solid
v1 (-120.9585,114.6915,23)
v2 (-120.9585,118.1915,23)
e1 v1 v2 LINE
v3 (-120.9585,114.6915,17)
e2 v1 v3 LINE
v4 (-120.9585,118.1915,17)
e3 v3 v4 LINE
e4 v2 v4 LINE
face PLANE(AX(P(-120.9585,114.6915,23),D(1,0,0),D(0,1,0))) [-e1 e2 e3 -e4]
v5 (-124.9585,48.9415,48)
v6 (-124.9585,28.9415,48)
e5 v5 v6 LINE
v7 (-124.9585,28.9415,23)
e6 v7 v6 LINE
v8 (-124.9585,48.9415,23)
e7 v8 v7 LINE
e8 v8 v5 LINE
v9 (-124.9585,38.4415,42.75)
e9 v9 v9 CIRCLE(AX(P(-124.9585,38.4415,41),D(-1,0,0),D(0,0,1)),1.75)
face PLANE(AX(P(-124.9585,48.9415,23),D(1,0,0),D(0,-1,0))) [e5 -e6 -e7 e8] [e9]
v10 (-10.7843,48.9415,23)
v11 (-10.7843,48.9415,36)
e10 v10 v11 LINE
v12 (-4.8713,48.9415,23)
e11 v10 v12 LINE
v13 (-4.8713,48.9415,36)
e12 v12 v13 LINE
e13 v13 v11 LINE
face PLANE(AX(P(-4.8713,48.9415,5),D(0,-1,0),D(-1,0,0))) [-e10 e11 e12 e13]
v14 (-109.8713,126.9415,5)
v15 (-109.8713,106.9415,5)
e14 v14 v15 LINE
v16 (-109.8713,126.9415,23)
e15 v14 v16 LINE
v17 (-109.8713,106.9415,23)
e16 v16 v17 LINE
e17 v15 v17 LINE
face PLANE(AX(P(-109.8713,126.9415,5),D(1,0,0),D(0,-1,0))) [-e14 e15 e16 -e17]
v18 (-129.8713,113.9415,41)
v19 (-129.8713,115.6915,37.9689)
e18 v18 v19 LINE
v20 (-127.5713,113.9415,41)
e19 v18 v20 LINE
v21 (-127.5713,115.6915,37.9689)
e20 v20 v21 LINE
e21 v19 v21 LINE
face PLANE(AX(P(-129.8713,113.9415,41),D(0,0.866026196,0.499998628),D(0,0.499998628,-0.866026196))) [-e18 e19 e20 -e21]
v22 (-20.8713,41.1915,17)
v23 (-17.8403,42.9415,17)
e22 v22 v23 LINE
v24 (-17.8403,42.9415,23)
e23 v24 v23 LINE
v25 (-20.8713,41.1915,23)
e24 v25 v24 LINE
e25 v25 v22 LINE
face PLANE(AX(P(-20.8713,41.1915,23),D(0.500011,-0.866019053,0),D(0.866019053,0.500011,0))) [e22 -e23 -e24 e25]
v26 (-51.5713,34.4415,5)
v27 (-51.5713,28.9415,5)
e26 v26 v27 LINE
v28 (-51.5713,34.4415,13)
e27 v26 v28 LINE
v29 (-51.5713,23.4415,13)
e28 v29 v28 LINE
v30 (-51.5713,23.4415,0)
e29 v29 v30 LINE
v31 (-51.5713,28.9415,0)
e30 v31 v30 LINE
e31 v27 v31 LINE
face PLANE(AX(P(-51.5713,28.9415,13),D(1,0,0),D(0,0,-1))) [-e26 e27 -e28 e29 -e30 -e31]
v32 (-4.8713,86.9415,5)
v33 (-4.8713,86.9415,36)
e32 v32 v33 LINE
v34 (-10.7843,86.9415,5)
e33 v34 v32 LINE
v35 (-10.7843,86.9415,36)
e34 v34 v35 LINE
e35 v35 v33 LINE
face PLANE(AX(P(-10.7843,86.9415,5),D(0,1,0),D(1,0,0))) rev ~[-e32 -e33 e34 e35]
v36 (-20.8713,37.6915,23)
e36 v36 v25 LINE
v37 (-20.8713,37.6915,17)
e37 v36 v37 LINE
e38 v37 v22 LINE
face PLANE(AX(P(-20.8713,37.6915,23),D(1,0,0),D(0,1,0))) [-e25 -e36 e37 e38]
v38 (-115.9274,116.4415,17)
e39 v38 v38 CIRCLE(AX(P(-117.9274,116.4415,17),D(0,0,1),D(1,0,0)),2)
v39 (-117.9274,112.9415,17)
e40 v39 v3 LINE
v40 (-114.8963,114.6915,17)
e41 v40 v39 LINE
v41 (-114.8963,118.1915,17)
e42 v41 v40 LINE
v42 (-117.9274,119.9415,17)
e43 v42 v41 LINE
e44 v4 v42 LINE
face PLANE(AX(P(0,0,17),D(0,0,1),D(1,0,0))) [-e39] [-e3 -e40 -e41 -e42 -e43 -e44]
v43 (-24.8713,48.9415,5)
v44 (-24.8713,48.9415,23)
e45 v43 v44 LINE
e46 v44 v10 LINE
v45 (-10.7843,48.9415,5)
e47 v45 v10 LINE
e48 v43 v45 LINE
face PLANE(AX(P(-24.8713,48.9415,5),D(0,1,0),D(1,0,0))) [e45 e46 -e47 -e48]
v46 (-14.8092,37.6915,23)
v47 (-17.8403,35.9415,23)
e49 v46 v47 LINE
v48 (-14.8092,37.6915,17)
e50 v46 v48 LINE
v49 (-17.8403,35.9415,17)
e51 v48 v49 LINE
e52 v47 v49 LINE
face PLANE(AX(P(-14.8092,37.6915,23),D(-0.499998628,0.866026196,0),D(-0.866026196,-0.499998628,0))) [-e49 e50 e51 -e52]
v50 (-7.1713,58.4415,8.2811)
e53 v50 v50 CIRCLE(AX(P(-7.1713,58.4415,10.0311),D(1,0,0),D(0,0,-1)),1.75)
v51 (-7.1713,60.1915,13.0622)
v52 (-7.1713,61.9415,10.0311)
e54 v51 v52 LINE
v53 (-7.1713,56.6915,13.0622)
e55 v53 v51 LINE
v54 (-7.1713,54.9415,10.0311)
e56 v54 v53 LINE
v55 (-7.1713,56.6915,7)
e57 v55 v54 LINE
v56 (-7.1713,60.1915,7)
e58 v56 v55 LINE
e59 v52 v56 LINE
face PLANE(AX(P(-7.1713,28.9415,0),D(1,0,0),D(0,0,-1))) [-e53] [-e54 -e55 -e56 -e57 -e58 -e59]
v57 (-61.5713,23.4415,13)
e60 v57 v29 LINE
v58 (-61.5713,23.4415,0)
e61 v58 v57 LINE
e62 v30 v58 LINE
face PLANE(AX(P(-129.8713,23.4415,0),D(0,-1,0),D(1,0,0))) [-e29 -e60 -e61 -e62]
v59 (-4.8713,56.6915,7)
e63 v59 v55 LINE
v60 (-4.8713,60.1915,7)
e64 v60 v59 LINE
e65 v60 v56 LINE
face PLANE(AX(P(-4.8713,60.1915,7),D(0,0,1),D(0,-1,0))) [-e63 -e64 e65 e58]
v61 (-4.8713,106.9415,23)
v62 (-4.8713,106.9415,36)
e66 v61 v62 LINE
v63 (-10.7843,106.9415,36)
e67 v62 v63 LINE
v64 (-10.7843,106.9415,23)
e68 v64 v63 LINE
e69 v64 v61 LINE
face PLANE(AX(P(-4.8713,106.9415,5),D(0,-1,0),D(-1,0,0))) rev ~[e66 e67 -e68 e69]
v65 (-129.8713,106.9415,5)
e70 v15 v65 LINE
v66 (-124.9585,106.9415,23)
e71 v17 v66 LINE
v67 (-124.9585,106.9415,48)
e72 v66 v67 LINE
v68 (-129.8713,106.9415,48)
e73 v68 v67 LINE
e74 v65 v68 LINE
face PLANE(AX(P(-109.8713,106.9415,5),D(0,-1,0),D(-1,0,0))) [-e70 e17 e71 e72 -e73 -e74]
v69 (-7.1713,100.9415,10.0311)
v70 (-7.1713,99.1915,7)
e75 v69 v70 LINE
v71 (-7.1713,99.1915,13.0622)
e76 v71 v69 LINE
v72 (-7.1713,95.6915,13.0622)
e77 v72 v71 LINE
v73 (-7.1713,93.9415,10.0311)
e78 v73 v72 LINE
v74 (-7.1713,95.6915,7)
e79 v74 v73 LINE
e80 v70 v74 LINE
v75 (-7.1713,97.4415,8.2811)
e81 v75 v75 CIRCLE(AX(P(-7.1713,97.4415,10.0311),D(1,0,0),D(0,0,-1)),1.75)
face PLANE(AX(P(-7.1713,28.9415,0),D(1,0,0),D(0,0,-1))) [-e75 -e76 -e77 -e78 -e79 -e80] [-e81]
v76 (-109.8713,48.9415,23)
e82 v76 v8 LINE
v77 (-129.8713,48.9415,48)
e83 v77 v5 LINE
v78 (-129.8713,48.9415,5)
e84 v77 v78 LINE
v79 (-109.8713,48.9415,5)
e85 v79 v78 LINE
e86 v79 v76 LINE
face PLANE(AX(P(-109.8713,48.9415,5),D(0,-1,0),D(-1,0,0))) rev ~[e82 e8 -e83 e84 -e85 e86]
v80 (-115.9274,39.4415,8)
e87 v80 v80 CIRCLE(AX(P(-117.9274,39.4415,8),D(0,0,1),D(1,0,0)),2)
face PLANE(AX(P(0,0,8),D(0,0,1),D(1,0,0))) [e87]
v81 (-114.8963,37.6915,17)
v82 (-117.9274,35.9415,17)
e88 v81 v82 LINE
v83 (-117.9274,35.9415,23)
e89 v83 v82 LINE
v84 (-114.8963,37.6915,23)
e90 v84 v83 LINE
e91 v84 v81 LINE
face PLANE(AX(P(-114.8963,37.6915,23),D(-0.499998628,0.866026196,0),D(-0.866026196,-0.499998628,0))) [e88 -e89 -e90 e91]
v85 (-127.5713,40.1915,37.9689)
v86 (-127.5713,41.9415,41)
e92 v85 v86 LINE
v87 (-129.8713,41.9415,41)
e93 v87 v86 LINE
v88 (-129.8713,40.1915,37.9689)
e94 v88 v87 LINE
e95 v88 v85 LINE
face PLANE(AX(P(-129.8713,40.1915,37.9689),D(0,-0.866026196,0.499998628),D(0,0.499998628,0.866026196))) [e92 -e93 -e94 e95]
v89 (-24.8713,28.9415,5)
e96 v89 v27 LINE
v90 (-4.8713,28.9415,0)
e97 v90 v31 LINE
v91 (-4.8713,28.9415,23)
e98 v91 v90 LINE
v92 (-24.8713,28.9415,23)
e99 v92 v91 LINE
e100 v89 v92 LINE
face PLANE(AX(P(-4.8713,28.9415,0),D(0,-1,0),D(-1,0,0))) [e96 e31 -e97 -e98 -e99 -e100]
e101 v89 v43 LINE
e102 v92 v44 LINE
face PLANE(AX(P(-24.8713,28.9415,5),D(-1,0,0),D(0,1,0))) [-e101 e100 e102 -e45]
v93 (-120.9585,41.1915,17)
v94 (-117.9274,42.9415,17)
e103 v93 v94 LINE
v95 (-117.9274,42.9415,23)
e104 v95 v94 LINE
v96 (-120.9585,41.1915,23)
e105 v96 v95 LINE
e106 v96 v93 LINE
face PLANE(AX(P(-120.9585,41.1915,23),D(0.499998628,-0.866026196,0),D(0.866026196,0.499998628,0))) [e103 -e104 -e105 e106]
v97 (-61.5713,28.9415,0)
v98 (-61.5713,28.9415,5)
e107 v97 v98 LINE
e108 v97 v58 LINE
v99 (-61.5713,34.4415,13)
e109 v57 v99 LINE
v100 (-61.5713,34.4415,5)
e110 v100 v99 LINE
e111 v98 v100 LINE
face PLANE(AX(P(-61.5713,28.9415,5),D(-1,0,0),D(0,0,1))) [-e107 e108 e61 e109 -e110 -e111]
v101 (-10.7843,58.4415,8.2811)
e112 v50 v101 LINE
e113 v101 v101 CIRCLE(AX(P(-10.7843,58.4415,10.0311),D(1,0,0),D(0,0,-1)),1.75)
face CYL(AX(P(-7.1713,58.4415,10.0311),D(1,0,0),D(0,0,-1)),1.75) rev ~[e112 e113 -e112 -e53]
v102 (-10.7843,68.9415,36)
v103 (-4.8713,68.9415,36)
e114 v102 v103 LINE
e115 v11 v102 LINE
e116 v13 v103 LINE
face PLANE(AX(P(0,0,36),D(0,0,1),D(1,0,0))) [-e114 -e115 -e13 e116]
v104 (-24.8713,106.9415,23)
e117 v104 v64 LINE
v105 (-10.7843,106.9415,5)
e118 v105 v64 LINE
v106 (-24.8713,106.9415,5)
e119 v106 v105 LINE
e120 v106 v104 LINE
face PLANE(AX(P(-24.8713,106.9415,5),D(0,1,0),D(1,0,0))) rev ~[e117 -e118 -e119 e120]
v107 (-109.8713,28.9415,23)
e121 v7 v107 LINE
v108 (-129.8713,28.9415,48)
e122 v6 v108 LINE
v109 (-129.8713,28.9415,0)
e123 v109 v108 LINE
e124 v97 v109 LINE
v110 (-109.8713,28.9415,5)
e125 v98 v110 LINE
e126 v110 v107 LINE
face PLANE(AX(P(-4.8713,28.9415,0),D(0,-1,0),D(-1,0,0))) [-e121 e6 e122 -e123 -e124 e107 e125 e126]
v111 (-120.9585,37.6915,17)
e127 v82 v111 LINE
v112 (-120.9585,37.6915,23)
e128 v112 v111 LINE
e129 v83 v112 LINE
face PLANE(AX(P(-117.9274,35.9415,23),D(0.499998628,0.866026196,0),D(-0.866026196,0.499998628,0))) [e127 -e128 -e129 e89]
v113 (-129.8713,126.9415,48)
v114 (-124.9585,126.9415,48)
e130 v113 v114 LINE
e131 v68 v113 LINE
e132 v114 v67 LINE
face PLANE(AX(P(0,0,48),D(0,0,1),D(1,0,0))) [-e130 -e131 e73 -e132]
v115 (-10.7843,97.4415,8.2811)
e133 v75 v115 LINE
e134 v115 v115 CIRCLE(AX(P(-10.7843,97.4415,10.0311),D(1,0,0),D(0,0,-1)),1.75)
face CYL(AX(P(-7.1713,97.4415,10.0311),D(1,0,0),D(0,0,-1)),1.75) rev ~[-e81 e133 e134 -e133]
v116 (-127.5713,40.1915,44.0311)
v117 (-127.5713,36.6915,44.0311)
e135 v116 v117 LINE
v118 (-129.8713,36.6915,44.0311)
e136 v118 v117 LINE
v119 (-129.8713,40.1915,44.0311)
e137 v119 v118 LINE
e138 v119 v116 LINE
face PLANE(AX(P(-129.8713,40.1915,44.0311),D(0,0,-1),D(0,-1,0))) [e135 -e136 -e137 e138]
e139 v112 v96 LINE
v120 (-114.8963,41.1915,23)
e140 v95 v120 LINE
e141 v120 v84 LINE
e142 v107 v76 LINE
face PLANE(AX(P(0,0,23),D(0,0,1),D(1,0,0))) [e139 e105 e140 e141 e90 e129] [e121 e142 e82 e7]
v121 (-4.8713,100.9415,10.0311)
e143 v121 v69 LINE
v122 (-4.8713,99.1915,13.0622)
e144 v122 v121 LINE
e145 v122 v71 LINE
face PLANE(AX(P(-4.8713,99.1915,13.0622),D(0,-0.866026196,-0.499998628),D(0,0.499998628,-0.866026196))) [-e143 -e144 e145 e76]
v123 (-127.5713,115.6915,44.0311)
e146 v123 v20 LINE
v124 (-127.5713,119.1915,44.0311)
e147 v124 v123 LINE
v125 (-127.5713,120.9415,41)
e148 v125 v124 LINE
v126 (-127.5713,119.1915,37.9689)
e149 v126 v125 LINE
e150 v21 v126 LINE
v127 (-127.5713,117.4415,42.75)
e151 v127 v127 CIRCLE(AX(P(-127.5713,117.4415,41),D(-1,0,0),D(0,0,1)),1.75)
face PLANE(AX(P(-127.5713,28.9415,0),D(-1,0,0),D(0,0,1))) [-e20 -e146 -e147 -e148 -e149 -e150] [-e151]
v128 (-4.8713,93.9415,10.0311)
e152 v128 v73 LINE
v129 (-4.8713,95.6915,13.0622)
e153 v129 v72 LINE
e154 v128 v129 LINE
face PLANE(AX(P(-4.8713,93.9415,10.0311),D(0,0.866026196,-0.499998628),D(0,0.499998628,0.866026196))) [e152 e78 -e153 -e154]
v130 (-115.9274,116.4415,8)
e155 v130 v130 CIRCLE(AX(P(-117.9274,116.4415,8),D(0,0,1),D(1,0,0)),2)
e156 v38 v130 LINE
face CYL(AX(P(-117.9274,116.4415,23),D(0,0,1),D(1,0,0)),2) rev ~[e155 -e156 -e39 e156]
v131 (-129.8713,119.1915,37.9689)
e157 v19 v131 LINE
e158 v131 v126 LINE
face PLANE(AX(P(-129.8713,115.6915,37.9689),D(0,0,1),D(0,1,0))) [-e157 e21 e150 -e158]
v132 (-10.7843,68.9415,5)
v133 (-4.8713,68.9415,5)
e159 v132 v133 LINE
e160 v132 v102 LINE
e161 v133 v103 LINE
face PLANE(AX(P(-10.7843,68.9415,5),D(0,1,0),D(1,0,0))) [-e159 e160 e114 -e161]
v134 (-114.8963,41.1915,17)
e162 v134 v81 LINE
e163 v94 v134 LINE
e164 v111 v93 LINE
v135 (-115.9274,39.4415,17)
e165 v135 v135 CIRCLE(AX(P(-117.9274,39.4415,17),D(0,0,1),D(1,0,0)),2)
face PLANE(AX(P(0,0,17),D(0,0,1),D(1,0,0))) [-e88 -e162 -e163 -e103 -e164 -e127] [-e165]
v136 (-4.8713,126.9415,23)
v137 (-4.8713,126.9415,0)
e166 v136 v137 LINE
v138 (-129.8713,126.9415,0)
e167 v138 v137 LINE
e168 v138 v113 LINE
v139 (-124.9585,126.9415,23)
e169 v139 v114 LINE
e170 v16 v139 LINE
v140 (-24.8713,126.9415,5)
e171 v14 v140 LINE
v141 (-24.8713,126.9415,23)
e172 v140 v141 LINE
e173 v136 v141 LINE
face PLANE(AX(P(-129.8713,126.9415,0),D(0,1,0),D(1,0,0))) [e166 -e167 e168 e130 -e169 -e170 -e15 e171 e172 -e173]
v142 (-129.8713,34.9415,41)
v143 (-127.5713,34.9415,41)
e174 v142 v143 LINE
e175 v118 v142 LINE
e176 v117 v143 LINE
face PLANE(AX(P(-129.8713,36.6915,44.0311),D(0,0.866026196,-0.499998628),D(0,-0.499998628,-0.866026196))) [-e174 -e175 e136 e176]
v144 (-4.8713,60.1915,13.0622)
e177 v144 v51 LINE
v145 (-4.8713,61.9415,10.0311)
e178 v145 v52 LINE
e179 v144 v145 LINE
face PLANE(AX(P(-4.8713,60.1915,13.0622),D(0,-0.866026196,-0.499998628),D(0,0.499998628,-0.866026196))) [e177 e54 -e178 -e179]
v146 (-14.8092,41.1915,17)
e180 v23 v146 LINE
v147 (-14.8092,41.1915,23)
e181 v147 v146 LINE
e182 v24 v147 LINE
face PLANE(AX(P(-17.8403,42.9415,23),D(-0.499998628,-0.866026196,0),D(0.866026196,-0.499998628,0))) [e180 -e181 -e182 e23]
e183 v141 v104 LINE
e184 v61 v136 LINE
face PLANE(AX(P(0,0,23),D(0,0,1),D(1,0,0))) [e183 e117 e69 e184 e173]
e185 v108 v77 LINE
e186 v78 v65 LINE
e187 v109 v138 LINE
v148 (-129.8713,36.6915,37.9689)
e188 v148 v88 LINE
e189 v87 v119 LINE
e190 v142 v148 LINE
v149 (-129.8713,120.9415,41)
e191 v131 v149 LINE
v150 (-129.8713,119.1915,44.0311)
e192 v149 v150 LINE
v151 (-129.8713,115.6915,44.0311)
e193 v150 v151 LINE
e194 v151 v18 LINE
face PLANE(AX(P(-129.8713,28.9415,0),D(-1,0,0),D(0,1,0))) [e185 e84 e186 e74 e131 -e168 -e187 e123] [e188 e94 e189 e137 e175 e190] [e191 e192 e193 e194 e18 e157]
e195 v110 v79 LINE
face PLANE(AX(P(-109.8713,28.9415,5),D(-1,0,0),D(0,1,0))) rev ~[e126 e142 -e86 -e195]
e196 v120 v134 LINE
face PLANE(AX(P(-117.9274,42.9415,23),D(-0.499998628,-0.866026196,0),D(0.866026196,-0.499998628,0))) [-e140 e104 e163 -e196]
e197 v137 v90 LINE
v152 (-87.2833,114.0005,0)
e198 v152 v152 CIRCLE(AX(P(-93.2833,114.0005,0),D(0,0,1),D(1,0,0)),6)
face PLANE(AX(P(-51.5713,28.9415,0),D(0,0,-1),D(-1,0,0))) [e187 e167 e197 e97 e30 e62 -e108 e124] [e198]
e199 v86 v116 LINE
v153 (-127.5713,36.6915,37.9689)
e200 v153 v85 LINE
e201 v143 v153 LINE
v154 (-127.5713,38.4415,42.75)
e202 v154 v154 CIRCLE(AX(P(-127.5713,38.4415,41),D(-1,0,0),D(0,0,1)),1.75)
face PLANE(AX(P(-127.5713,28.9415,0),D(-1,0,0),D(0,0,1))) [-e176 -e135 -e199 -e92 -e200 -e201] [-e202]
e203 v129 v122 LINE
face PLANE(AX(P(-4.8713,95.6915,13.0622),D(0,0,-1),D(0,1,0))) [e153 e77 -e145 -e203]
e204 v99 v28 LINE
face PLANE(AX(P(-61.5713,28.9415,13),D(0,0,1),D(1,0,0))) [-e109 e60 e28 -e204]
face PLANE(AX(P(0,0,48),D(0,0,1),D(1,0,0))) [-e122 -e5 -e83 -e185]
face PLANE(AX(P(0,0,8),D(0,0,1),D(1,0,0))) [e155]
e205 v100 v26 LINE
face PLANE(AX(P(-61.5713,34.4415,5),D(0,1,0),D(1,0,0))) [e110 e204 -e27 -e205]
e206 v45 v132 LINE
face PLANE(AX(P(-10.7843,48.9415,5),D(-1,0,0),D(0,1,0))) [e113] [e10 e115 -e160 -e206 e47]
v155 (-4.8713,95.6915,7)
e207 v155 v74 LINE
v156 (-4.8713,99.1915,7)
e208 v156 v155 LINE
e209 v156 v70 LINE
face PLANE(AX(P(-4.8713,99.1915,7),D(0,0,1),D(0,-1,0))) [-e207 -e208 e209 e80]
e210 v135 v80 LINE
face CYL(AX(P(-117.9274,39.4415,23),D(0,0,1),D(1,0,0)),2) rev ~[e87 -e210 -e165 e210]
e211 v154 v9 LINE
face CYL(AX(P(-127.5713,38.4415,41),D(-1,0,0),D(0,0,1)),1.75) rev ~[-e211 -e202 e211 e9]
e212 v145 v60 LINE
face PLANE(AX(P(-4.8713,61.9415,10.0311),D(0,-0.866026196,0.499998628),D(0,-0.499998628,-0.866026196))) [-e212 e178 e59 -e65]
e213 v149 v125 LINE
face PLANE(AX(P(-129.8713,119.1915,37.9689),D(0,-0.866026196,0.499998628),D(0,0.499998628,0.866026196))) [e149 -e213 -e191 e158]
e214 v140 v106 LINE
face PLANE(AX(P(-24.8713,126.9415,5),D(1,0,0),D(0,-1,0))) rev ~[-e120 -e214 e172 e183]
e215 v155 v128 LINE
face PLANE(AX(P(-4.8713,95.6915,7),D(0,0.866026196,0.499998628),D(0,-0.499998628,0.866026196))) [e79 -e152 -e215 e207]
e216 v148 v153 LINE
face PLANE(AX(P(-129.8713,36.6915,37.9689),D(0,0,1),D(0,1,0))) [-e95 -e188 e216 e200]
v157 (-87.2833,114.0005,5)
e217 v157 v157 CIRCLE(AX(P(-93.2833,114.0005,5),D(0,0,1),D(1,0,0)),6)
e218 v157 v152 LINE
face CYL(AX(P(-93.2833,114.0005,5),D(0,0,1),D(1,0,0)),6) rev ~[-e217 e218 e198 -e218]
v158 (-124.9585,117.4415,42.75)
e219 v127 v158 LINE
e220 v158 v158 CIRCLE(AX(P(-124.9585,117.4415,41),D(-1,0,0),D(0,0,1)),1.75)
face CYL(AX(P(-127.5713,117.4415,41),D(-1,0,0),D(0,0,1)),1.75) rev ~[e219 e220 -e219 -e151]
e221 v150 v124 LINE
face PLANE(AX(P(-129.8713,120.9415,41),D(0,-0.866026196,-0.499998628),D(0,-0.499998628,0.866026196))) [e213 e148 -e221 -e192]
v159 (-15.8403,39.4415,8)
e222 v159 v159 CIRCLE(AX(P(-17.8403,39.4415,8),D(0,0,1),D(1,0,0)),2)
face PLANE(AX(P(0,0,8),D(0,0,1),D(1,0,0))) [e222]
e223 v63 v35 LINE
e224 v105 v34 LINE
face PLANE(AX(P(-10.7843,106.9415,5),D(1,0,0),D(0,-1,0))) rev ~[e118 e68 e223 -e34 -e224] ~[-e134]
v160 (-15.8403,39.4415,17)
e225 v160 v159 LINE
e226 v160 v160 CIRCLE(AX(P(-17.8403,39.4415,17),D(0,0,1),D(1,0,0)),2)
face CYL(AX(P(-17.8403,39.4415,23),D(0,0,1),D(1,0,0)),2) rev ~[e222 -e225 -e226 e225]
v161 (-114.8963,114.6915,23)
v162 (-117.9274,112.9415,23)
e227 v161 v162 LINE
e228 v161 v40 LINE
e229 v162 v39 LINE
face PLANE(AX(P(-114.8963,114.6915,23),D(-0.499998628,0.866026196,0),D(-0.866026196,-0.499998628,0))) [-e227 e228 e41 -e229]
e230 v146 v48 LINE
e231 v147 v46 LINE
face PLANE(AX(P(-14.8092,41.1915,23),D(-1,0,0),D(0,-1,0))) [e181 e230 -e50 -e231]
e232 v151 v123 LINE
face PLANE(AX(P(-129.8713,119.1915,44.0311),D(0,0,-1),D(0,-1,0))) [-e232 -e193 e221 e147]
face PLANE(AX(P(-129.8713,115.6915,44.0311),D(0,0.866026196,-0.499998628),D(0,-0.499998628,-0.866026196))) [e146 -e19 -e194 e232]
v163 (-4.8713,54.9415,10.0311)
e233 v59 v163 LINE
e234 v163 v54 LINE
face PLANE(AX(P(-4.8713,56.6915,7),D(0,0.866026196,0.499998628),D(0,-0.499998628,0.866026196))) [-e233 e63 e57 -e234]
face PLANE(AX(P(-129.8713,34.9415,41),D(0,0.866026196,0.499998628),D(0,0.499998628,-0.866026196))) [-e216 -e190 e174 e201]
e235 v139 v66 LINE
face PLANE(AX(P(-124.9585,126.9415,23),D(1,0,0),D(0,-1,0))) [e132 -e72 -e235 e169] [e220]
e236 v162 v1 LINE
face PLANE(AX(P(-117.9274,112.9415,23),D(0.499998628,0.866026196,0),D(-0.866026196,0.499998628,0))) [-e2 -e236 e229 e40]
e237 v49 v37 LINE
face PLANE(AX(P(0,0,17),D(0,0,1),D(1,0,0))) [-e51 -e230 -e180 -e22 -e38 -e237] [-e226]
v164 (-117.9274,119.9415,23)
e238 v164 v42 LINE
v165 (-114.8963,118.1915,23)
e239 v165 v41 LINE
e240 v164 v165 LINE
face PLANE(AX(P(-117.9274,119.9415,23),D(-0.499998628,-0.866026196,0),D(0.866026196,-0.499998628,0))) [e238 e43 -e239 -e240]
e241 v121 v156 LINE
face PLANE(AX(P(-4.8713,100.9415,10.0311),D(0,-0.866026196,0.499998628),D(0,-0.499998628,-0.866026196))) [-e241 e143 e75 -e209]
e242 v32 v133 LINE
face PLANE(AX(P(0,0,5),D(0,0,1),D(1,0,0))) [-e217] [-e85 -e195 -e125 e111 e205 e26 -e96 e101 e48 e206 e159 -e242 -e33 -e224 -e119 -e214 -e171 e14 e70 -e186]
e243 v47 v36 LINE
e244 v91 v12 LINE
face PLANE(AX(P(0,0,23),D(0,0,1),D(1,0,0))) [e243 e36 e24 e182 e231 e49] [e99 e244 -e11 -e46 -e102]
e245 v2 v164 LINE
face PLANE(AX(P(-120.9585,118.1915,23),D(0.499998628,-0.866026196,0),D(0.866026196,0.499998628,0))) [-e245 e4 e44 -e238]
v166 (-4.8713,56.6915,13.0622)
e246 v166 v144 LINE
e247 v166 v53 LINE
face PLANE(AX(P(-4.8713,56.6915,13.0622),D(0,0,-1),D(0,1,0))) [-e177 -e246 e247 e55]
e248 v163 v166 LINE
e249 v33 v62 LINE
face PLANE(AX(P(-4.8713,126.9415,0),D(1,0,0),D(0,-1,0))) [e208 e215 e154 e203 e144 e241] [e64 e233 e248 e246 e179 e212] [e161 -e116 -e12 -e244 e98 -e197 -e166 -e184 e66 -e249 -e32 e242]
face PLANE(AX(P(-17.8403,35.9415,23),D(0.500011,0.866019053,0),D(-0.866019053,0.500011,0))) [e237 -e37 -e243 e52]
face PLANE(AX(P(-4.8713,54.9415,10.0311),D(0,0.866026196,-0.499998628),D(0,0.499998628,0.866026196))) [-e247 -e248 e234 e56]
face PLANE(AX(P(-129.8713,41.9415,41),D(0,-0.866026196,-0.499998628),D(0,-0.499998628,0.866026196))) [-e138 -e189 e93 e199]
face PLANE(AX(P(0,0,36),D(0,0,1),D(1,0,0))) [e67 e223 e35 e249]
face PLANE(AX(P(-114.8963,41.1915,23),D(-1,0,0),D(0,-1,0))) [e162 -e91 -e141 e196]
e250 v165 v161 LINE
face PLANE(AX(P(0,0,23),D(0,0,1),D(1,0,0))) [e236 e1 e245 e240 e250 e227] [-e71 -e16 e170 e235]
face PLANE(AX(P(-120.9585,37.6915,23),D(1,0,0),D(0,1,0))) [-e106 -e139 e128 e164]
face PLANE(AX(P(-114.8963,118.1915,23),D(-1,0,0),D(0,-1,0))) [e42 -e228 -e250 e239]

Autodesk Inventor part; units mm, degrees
ref_plane "YZ Plane" through (0, 0, 0) normal (1, 0, 0) x (0, 1, 0)
ref_plane "XZ Plane" through (0, 0, 0) normal (0, 1, 0) x (-1, 0, 0)
ref_plane "XY Plane" through (0, 0, 0) normal (0, 0, 1) x (1, 0, 0)
sketch "Boceto1" plane through (0, 0, 0) normal (0, 0, 1) x (1, 0, 0)
  line L0 (-129.8713, 126.9415) -> (-4.8713, 126.9415)
  line L1 (-4.8713, 126.9415) -> (-4.8713, 28.9415)
  line L2 (-4.8713, 28.9415) -> (-129.8713, 28.9415)
  line L3 (-129.8713, 28.9415) -> (-129.8713, 126.9415)
  point P0 (0, 0)
  dimension "d0" = 98
  dimension "d1" = 125
extrude "Extrusión1" add sketch "Boceto1" along normal blind 5
sketch "Boceto2" plane through (0, 0, 5) normal (0, 0, 1) x (1, 0, 0)
  line L0 (-4.8713, 126.9415) -> (-129.8713, 126.9415) projected
  point P0 (0, 0)
sketch "Boceto3" plane through (0, 0, 5) normal (0, 0, 1) x (1, 0, 0)
  line L0 (-129.8713, 126.9415) -> (-129.8713, 28.9415) projected
  line L1 (-124.9455, 121.4415) -> (-10.7713, 121.4415) construction
  line L2 (-10.7713, 121.4415) -> (-10.7713, 34.4465) construction
  line L3 (-10.7713, 34.4465) -> (-124.9455, 34.4465) construction
  line L4 (-124.9455, 34.4465) -> (-124.9455, 121.4415) construction
  line L5 (-4.8713, 28.9415) -> (-4.8713, 126.9415) projected
  line L6 (-4.8713, 126.9415) -> (-129.8713, 126.9415) projected
  line L7 (-129.8713, 28.9415) -> (-4.8713, 28.9415) projected
  line L8 (-129.8713, 126.9415) -> (-109.8713, 126.9415)
  line L9 (-109.8713, 126.9415) -> (-109.8713, 106.9415)
  line L10 (-109.8713, 106.9415) -> (-129.8713, 106.9415)
  line L11 (-129.8713, 106.9415) -> (-129.8713, 126.9415)
  line L12 (-129.8713, 28.9415) -> (-109.8713, 28.9415)
  line L13 (-109.8713, 28.9415) -> (-109.8713, 48.9415)
  line L14 (-109.8713, 48.9415) -> (-129.8713, 48.9415)
  line L15 (-129.8713, 48.9415) -> (-129.8713, 28.9415)
  line L16 (-4.8713, 28.9415) -> (-24.8713, 28.9415)
  line L17 (-24.8713, 28.9415) -> (-24.8713, 48.9415)
  line L18 (-24.8713, 48.9415) -> (-4.8713, 48.9415)
  line L19 (-4.8713, 48.9415) -> (-4.8713, 28.9415)
  line L20 (-4.8713, 126.9415) -> (-24.8713, 126.9415)
  line L21 (-24.8713, 126.9415) -> (-24.8713, 106.9415)
  line L22 (-24.8713, 106.9415) -> (-4.8713, 106.9415)
  line L23 (-4.8713, 106.9415) -> (-4.8713, 126.9415)
  point P0 (0, 0)
  point P1 (-109.8713, 28.9415)
  point P2 (-4.8713, 106.9415)
  dimension "d58" = 86.995
  dimension "d62" = 114.1741
  dimension "d67" = 5.9
  dimension "d68" = 4.9259
  dimension "d70" = 5.5
  dimension "d71" = 5.505
  dimension "d86" = 20
  dimension "d87" = 20
  dimension "d88" = 20
  dimension "d89" = 20
  dimension "d90" = 20
  dimension "d91" = 20
  dimension "d92" = 20
  dimension "d93" = 20
extrude "Extrusión2" add sketch "Boceto3" along normal blind 18 contours L6 L9 L10 L0 | L14 L13 L7 L0 | L6 L5 L22 L21 | L17 L18 L5 L7
sketch "Boceto4" plane through (0, 0, 23) normal (0, 0, 1) x (1, 0, 0)
  line L0 (-124.9585, 121.4415) -> (-10.7843, 121.4415) construction
  line L1 (-10.7843, 121.4415) -> (-10.7843, 34.4465) construction
  line L2 (-10.7843, 34.4465) -> (-124.9585, 34.4465) construction
  line L3 (-124.9585, 34.4465) -> (-124.9585, 121.4415) construction
  line L4 (-4.8713, 48.9415) -> (-4.8713, 106.9415) projected
  line L5 (-24.8713, 126.9415) -> (-109.8713, 126.9415) projected
  line L6 (-109.8713, 28.9415) -> (-24.8713, 28.9415) projected
  line L7 (-129.8713, 106.9415) -> (-129.8713, 48.9415) projected
  line L8 (-129.8713, 106.9415) -> (-109.8713, 106.9415) projected
  line L9 (-129.8713, 126.9415) -> (-124.9585, 126.9415)
  line L10 (-124.9585, 126.9415) -> (-124.9585, 106.9415)
  line L11 (-124.9585, 106.9415) -> (-129.8713, 106.9415)
  line L12 (-129.8713, 106.9415) -> (-129.8713, 126.9415)
  line L13 (-124.9585, 28.9415) -> (-129.8713, 28.9415)
  line L14 (-129.8713, 28.9415) -> (-129.8713, 48.9415)
  line L15 (-129.8713, 48.9415) -> (-124.9585, 48.9415)
  line L16 (-124.9585, 48.9415) -> (-124.9585, 28.9415)
  line L17 (-4.8713, 28.9415) -> (-4.8713, 126.9415) projected
  point P0 (0, 0)
  point P1 (-10.7843, 48.9415)
  dimension "d105" = 5.5
  dimension "d106" = 5.505
  dimension "d108" = 5.913
  dimension "d109" = 4.9129
  dimension "d111" = 20
extrude "Extrusión3" add sketch "Boceto4" along normal blind 25
sketch "Boceto5" plane through (0, 0, 5) normal (0, 0, 1) x (1, 0, 0)
  line L0 (-4.8713, 48.9415) -> (-4.8713, 106.9415) projected
  line L1 (-4.8713, 48.9415) -> (-10.7843, 48.9415)
  line L2 (-10.7843, 48.9415) -> (-10.7843, 68.9415)
  line L3 (-10.7843, 68.9415) -> (-4.8713, 68.9415)
  line L4 (-4.8713, 68.9415) -> (-4.8713, 48.9415)
  line L5 (-4.8713, 106.9415) -> (-24.8713, 106.9415) projected
  line L6 (-4.8713, 106.9415) -> (-10.7843, 106.9415)
  line L7 (-10.7843, 106.9415) -> (-10.7843, 86.9415)
  line L8 (-10.7843, 86.9415) -> (-4.8713, 86.9415)
  line L9 (-4.8713, 86.9415) -> (-4.8713, 106.9415)
  point P0 (0, 0)
  dimension "d120" = 20
  dimension "d121" = 5.913
  dimension "d122" = 20
extrude "Extrusión4" add sketch "Boceto5" along normal blind 31
sketch "Boceto6" plane through (0, 0, 5) normal (0, 0, 1) x (1, 0, 0)
  line L0 (-10.7843, 120.6745) -> (-10.7843, 34.4415) construction
  line L1 (-123.9583, 34.4415) -> (-123.9583, 120.6745) construction
  line L2 (-10.7843, 34.4415) -> (-123.9583, 34.4415) construction
  line L3 (-123.9583, 120.6745) -> (-10.7843, 120.6745) construction
  line L4 (-4.8713, 68.9415) -> (-4.8713, 86.9415) projected
  line L5 (-129.8713, 106.9415) -> (-129.8713, 48.9415) projected
  line L6 (-109.8713, 28.9415) -> (-24.8713, 28.9415) projected
  line L7 (-24.8713, 126.9415) -> (-109.8713, 126.9415) projected
  line L8 (-61.5713, 34.4415) -> (-51.5713, 34.4415)
  line L9 (-51.5713, 34.4415) -> (-51.5713, 28.9415)
  line L10 (-51.5713, 28.9415) -> (-61.5713, 28.9415)
  line L11 (-61.5713, 28.9415) -> (-61.5713, 34.4415)
  line L12 (-4.8713, 28.9415) -> (-4.8713, 48.9415) projected
  line L13 (-129.8713, 48.9415) -> (-129.8713, 28.9415) projected
  point P0 (0, 0)
  point P1 (-123.9583, 118.8668)
  point P2 (-123.9583, 40.8668)
  point P3 (-10.7843, 60.8668)
  point P4 (-51.5713, 31.6915)
  point P5 (-61.5713, 28.9415)
  dimension "d130" = 5.913
  dimension "d131" = 5.913
  dimension "d132" = 5.5
  dimension "d133" = 6.267
  dimension "d135" = 10
  dimension "d136" = 46.7
  dimension "d137" = 68.3
extrude "Extrusión5" add sketch "Boceto6" along normal blind 8
sketch "Boceto7" plane through (-129.8713, 28.9415, 0) normal (0, -1, 0) x (1, 0, 0)
  line L0 (68.3, 5) -> (68.3, 13) projected
  line L1 (68.3, 13) -> (78.3, 13)
  line L2 (78.3, 13) -> (78.3, 0)
  line L3 (78.3, 0) -> (68.3, 0)
  line L4 (68.3, 0) -> (68.3, 13)
  line L5 (0, 0) -> (125, 0) projected
  point P0 (129.8713, 0)
  point P1 (78.3, 5)
extrude "Extrusión6" add sketch "Boceto7" along normal blind 5.5
sketch "Boceto8" plane through (-4.8713, 28.9415, 0) normal (1, 0, 0) x (0, 0, -1)
  line L0 (-7, 31.25) -> (-7, 27.75)
  line L1 (-7, 27.75) -> (-10.0311, 26)
  line L2 (-10.0311, 26) -> (-13.0622, 27.75)
  line L3 (-13.0622, 27.75) -> (-13.0622, 31.25)
  line L4 (-13.0622, 31.25) -> (-10.0311, 33)
  line L5 (-10.0311, 33) -> (-7, 31.25)
  line L6 (0, 0) -> (0, 98) projected
  line L7 (-5, 40) -> (-36, 40) projected
  line L8 (-5, 58) -> (-36, 58) projected
  line L9 (-7, 70.25) -> (-7, 66.75)
  line L10 (-7, 66.75) -> (-10.0311, 65)
  line L11 (-10.0311, 65) -> (-13.0622, 66.75)
  line L12 (-13.0622, 66.75) -> (-13.0622, 70.25)
  line L13 (-13.0622, 70.25) -> (-10.0311, 72)
  line L14 (-10.0311, 72) -> (-7, 70.25)
  point P0 (0, -28.9415)
  point P1 (-10.0311, 29.5)
  point P2 (-7, 29.5)
  point P3 (-10.0311, 68.5)
  point P4 (-7, 68.5)
  dimension "d149" = 3.5
  dimension "d151" = 7
  dimension "d153" = 7
  dimension "d156" = 3.5
  dimension "d157" = 7
  dimension "d158" = 7
extrude "Extrusión7" cut sketch "Boceto8" against normal blind 2.3
sketch "Boceto9" plane through (0, 0, 5) normal (0, 0, 1) x (1, 0, 0)
  point P0 (0, 0)
sketch "Boceto10" plane through (-7.1713, 28.9415, 0) normal (1, 0, 0) x (0, 0, -1)
  circle A0 centre (-10.0311, 29.5) radius 1.75
  line L0 (-13.0622, 27.75) -> (-13.0622, 31.25) projected
  line L1 (-10.0311, 33) -> (-7, 31.25) projected
  line L2 (-7, 31.25) -> (-7, 27.75) projected
  line L3 (-13.0622, 31.25) -> (-10.0311, 33) projected
  line L4 (-7, 27.75) -> (-10.0311, 26) projected
  circle A1 centre (-10.0311, 68.5) radius 1.75
  line L5 (-10.0311, 65) -> (-13.0622, 66.75) projected
  line L6 (-13.0622, 66.75) -> (-13.0622, 70.25) projected
  line L7 (-10.0311, 72) -> (-7, 70.25) projected
  line L8 (-7, 70.25) -> (-7, 66.75) projected
  point P0 (0, -28.9415)
  dimension "d161" = 3.5
  dimension "d162" = 3.5
  dimension "d163" = 3.5
  dimension "d164" = 3.5
  dimension "d165" = 3.5
  dimension "d166" = 3.5
  dimension "d167" = 3.5
  dimension "d168" = 3.5
  dimension "d169" = 3.5
  dimension "d170" = 3.5
  dimension "d171" = 3.5
extrude "Extrusión8" cut sketch "Boceto10" against normal blind 5
sketch "Boceto11" plane through (-129.8713, 28.9415, 0) normal (-1, 0, 0) x (0, 0, 1)
  line L0 (37.9689, 86.75) -> (37.9689, 90.25)
  line L1 (37.9689, 90.25) -> (41, 92)
  line L2 (41, 92) -> (44.0311, 90.25)
  line L3 (44.0311, 90.25) -> (44.0311, 86.75)
  line L4 (44.0311, 86.75) -> (41, 85)
  line L5 (41, 85) -> (37.9689, 86.75)
  line L6 (37.9689, 7.75) -> (37.9689, 11.25)
  line L7 (37.9689, 11.25) -> (41, 13)
  line L8 (41, 13) -> (44.0311, 11.25)
  line L9 (44.0311, 11.25) -> (44.0311, 7.75)
  line L10 (44.0311, 7.75) -> (41, 6)
  line L11 (41, 6) -> (37.9689, 7.75)
  line L12 (48, 20) -> (48, 0) projected
  line L13 (48, 98) -> (48, 78) projected
  line L14 (5, 78) -> (48, 78) projected
  line L15 (5, 20) -> (48, 20) projected
  point P0 (0, -28.9415)
  point P1 (41, 88.5)
  point P2 (41, 9.5)
  point P3 (48, 10)
  dimension "d174" = 7
  dimension "d175" = 3.5
  dimension "d176" = 7
  dimension "d177" = 3.5
  dimension "d178" = 7
  dimension "d179" = 7
extrude "Extrusión9" cut sketch "Boceto11" against normal blind 2.3
sketch "Boceto12" plane through (-127.5713, 28.9415, 0) normal (-1, 0, 0) x (0, 0, 1)
  circle A0 centre (41, 88.5) radius 1.75
  line L0 (44.0311, 86.75) -> (41, 85) projected
  line L1 (37.9689, 90.25) -> (41, 92) projected
  line L2 (41, 85) -> (37.9689, 86.75) projected
  line L3 (44.0311, 90.25) -> (44.0311, 86.75) projected
  circle A1 centre (41, 9.5) radius 1.75
  line L4 (44.0311, 11.25) -> (44.0311, 7.75) projected
  line L5 (37.9689, 11.25) -> (41, 13) projected
  point P0 (0, -28.9415)
  dimension "d182" = 3.5
  dimension "d184" = 3.5
  dimension "d187" = 3.5
  dimension "d188" = 3.5
  dimension "d189" = 3.5
  dimension "d190" = 3.5
  dimension "d191" = 3.5
  dimension "d192" = 3.5
extrude "Extrusión10" cut sketch "Boceto12" against normal blind 5
sketch "Boceto13" plane through (0, 0, 23) normal (0, 0, 1) x (1, 0, 0)
  line L0 (-20.8713, 37.6915) -> (-20.8713, 41.1915)
  line L1 (-20.8713, 41.1915) -> (-17.8403, 42.9415)
  line L2 (-17.8403, 42.9415) -> (-14.8092, 41.1915)
  line L3 (-14.8092, 41.1915) -> (-14.8092, 37.6915)
  line L4 (-14.8092, 37.6915) -> (-17.8403, 35.9415)
  line L5 (-17.8403, 35.9415) -> (-20.8713, 37.6915)
  line L6 (-24.8713, 48.9415) -> (-24.8713, 28.9415) projected
  line L7 (-10.7843, 48.9415) -> (-24.8713, 48.9415) projected
  line L8 (-120.9585, 37.6915) -> (-120.9585, 41.1915)
  line L9 (-120.9585, 41.1915) -> (-117.9274, 42.9415)
  line L10 (-117.9274, 42.9415) -> (-114.8963, 41.1915)
  line L11 (-114.8963, 41.1915) -> (-114.8963, 37.6915)
  line L12 (-114.8963, 37.6915) -> (-117.9274, 35.9415)
  line L13 (-117.9274, 35.9415) -> (-120.9585, 37.6915)
  line L14 (-124.9585, 28.9415) -> (-124.9585, 48.9415) projected
  line L15 (-109.8713, 48.9415) -> (-124.9585, 48.9415) projected
  line L16 (-120.9585, 114.6915) -> (-120.9585, 118.1915)
  line L17 (-120.9585, 118.1915) -> (-117.9274, 119.9415)
  line L18 (-117.9274, 119.9415) -> (-114.8963, 118.1915)
  line L19 (-114.8963, 118.1915) -> (-114.8963, 114.6915)
  line L20 (-114.8963, 114.6915) -> (-117.9274, 112.9415)
  line L21 (-117.9274, 112.9415) -> (-120.9585, 114.6915)
  line L22 (-124.9585, 106.9415) -> (-124.9585, 126.9415) projected
  line L23 (-124.9585, 106.9415) -> (-109.8713, 106.9415) projected
  line L24 (-13.0065, 121.4993) -> (-13.0065, 35.2663) construction
  line L25 (-126.1805, 35.2663) -> (-126.1805, 121.4993) construction
  line L26 (-13.0065, 35.2663) -> (-126.1805, 35.2663) construction
  line L27 (-126.1805, 121.4993) -> (-13.0065, 121.4993) construction
  point P0 (0, 0)
  point P1 (-17.8403, 39.4415)
  point P2 (-20.8713, 39.4415)
  point P3 (-117.9274, 39.4415)
  point P4 (-120.9585, 39.4415)
  point P5 (-117.9274, 116.4415)
  point P6 (-13.0065, 61.6917)
  point P7 (-126.1805, 119.6917)
  point P8 (-126.1805, 41.6917)
  point P9 (-63.7935, 35.2663)
  dimension "d195" = 3.5
  dimension "d196" = 6
  dimension "d197" = 4
  dimension "d198" = 6
  dimension "d199" = 4
  dimension "d200" = 6
  dimension "d201" = 4
  dimension "d202" = 3.5
  dimension "d203" = 3.5
extrude "Extrusión11" cut sketch "Boceto13" against normal blind 6
sketch "Boceto17" plane through (0, 0, 23) normal (0, 0, 1) x (1, 0, 0)
  circle A0 centre (-17.8403, 39.4415) radius 2
  line L0 (-14.8092, 41.1915) -> (-14.8092, 37.6915) projected
  line L1 (-14.8092, 41.1915) -> (-14.8092, 37.6915) projected
  line L2 (-20.8713, 41.1915) -> (-17.8403, 42.9415) projected
  circle A1 centre (-117.9274, 39.4415) radius 2
  line L3 (-117.9274, 42.9415) -> (-114.8963, 41.1915) projected
  line L4 (-120.9585, 37.6915) -> (-120.9585, 41.1915) projected
  line L5 (-114.8963, 37.6915) -> (-117.9274, 35.9415) projected
  circle A2 centre (-117.9274, 116.4415) radius 2
  line L6 (-117.9274, 119.9415) -> (-114.8963, 118.1915) projected
  line L7 (-120.9585, 114.6915) -> (-120.9585, 118.1915) projected
  point P0 (0, 0)
  point P1 (-20.8713, 37.6915)
  point P2 (-114.8963, 114.6915)
  dimension "d236" = 4
  dimension "d238" = 3.5
  dimension "d239" = 3.5
  dimension "d240" = 4
  dimension "d241" = 3.5
  dimension "d243" = 3.5
  dimension "d244" = 4
  dimension "d245" = 3.5
  dimension "d246" = 3.5
  dimension "d247" = 3.5
  dimension "d248" = 3.5
  dimension "d249" = 3.5
extrude "Extrusión15" cut sketch "Boceto17" against normal blind 15
sketch "Boceto18" plane through (0, 0, 5) normal (0, 0, 1) x (1, 0, 0)
  line L0 (125.8009, 116.9426) -> (125.8009, 30.6207) construction
  line L1 (12.5101, 30.6207) -> (12.5101, 116.9426) construction
  line L2 (125.8009, 30.6207) -> (12.5101, 30.6207) construction
  line L3 (12.5101, 116.9426) -> (125.8009, 116.9426) construction
  line L4 (-10.9427, 120.5005) -> (-10.9427, 34.2675) construction
  line L5 (-124.1167, 34.2675) -> (-124.1167, 120.5005) construction
  line L6 (-10.9427, 34.2675) -> (-124.1167, 34.2675) construction
  line L7 (-124.1167, 120.5005) -> (-10.9427, 120.5005) construction
  circle A0 centre (-93.2833, 114.0005) radius 6
  line L8 (-109.8713, 106.9415) -> (-109.8713, 126.9415) projected
  line L9 (-100.2833, 119.5538) -> (-100.2833, 109.0268)
  line L10 (-129.8713, 106.9415) -> (-129.8713, 48.9415) projected
  line L11 (-24.8713, 126.9415) -> (-109.8713, 126.9415) projected
  point P0 (0, 0)
  point P1 (-11.7474, -20.2697)
  point P2 (-124.9214, 37.7303)
  point P3 (-124.9214, -40.2697)
  point P4 (-146.9688, 35.7152)
  point P5 (-10.185, 48.671)
  point P6 (-123.359, 106.671)
  point P7 (-123.359, 28.671)
  point P8 (-56.0563, 34.9687)
  point P9 (125.8009, 4.0884)
  point P10 (12.5101, 62.0884)
  point P11 (12.5101, -15.9116)
  point P12 (-197.4234, 30.6207)
  point P13 (-10.9427, 45.9824)
  point P14 (-124.1167, 103.9824)
  point P15 (-124.1167, 25.9824)
  point P16 (-58.9128, 34.2675)
  point P17 (-95.5526, 120.5005)
  point P18 (-100.2833, 114.2903)
  dimension "d283" = 12
  dimension "d299" = 9.5881
  dimension "d301" = 6.5
  dimension "d303" = 7
  dimension "d305" = 5.7546
  dimension "d307" = 6.441
extrude "Extrusión16" cut sketch "Boceto18" against normal blind 10
properties part number "Tapadera-prototipo_3DPrint"
